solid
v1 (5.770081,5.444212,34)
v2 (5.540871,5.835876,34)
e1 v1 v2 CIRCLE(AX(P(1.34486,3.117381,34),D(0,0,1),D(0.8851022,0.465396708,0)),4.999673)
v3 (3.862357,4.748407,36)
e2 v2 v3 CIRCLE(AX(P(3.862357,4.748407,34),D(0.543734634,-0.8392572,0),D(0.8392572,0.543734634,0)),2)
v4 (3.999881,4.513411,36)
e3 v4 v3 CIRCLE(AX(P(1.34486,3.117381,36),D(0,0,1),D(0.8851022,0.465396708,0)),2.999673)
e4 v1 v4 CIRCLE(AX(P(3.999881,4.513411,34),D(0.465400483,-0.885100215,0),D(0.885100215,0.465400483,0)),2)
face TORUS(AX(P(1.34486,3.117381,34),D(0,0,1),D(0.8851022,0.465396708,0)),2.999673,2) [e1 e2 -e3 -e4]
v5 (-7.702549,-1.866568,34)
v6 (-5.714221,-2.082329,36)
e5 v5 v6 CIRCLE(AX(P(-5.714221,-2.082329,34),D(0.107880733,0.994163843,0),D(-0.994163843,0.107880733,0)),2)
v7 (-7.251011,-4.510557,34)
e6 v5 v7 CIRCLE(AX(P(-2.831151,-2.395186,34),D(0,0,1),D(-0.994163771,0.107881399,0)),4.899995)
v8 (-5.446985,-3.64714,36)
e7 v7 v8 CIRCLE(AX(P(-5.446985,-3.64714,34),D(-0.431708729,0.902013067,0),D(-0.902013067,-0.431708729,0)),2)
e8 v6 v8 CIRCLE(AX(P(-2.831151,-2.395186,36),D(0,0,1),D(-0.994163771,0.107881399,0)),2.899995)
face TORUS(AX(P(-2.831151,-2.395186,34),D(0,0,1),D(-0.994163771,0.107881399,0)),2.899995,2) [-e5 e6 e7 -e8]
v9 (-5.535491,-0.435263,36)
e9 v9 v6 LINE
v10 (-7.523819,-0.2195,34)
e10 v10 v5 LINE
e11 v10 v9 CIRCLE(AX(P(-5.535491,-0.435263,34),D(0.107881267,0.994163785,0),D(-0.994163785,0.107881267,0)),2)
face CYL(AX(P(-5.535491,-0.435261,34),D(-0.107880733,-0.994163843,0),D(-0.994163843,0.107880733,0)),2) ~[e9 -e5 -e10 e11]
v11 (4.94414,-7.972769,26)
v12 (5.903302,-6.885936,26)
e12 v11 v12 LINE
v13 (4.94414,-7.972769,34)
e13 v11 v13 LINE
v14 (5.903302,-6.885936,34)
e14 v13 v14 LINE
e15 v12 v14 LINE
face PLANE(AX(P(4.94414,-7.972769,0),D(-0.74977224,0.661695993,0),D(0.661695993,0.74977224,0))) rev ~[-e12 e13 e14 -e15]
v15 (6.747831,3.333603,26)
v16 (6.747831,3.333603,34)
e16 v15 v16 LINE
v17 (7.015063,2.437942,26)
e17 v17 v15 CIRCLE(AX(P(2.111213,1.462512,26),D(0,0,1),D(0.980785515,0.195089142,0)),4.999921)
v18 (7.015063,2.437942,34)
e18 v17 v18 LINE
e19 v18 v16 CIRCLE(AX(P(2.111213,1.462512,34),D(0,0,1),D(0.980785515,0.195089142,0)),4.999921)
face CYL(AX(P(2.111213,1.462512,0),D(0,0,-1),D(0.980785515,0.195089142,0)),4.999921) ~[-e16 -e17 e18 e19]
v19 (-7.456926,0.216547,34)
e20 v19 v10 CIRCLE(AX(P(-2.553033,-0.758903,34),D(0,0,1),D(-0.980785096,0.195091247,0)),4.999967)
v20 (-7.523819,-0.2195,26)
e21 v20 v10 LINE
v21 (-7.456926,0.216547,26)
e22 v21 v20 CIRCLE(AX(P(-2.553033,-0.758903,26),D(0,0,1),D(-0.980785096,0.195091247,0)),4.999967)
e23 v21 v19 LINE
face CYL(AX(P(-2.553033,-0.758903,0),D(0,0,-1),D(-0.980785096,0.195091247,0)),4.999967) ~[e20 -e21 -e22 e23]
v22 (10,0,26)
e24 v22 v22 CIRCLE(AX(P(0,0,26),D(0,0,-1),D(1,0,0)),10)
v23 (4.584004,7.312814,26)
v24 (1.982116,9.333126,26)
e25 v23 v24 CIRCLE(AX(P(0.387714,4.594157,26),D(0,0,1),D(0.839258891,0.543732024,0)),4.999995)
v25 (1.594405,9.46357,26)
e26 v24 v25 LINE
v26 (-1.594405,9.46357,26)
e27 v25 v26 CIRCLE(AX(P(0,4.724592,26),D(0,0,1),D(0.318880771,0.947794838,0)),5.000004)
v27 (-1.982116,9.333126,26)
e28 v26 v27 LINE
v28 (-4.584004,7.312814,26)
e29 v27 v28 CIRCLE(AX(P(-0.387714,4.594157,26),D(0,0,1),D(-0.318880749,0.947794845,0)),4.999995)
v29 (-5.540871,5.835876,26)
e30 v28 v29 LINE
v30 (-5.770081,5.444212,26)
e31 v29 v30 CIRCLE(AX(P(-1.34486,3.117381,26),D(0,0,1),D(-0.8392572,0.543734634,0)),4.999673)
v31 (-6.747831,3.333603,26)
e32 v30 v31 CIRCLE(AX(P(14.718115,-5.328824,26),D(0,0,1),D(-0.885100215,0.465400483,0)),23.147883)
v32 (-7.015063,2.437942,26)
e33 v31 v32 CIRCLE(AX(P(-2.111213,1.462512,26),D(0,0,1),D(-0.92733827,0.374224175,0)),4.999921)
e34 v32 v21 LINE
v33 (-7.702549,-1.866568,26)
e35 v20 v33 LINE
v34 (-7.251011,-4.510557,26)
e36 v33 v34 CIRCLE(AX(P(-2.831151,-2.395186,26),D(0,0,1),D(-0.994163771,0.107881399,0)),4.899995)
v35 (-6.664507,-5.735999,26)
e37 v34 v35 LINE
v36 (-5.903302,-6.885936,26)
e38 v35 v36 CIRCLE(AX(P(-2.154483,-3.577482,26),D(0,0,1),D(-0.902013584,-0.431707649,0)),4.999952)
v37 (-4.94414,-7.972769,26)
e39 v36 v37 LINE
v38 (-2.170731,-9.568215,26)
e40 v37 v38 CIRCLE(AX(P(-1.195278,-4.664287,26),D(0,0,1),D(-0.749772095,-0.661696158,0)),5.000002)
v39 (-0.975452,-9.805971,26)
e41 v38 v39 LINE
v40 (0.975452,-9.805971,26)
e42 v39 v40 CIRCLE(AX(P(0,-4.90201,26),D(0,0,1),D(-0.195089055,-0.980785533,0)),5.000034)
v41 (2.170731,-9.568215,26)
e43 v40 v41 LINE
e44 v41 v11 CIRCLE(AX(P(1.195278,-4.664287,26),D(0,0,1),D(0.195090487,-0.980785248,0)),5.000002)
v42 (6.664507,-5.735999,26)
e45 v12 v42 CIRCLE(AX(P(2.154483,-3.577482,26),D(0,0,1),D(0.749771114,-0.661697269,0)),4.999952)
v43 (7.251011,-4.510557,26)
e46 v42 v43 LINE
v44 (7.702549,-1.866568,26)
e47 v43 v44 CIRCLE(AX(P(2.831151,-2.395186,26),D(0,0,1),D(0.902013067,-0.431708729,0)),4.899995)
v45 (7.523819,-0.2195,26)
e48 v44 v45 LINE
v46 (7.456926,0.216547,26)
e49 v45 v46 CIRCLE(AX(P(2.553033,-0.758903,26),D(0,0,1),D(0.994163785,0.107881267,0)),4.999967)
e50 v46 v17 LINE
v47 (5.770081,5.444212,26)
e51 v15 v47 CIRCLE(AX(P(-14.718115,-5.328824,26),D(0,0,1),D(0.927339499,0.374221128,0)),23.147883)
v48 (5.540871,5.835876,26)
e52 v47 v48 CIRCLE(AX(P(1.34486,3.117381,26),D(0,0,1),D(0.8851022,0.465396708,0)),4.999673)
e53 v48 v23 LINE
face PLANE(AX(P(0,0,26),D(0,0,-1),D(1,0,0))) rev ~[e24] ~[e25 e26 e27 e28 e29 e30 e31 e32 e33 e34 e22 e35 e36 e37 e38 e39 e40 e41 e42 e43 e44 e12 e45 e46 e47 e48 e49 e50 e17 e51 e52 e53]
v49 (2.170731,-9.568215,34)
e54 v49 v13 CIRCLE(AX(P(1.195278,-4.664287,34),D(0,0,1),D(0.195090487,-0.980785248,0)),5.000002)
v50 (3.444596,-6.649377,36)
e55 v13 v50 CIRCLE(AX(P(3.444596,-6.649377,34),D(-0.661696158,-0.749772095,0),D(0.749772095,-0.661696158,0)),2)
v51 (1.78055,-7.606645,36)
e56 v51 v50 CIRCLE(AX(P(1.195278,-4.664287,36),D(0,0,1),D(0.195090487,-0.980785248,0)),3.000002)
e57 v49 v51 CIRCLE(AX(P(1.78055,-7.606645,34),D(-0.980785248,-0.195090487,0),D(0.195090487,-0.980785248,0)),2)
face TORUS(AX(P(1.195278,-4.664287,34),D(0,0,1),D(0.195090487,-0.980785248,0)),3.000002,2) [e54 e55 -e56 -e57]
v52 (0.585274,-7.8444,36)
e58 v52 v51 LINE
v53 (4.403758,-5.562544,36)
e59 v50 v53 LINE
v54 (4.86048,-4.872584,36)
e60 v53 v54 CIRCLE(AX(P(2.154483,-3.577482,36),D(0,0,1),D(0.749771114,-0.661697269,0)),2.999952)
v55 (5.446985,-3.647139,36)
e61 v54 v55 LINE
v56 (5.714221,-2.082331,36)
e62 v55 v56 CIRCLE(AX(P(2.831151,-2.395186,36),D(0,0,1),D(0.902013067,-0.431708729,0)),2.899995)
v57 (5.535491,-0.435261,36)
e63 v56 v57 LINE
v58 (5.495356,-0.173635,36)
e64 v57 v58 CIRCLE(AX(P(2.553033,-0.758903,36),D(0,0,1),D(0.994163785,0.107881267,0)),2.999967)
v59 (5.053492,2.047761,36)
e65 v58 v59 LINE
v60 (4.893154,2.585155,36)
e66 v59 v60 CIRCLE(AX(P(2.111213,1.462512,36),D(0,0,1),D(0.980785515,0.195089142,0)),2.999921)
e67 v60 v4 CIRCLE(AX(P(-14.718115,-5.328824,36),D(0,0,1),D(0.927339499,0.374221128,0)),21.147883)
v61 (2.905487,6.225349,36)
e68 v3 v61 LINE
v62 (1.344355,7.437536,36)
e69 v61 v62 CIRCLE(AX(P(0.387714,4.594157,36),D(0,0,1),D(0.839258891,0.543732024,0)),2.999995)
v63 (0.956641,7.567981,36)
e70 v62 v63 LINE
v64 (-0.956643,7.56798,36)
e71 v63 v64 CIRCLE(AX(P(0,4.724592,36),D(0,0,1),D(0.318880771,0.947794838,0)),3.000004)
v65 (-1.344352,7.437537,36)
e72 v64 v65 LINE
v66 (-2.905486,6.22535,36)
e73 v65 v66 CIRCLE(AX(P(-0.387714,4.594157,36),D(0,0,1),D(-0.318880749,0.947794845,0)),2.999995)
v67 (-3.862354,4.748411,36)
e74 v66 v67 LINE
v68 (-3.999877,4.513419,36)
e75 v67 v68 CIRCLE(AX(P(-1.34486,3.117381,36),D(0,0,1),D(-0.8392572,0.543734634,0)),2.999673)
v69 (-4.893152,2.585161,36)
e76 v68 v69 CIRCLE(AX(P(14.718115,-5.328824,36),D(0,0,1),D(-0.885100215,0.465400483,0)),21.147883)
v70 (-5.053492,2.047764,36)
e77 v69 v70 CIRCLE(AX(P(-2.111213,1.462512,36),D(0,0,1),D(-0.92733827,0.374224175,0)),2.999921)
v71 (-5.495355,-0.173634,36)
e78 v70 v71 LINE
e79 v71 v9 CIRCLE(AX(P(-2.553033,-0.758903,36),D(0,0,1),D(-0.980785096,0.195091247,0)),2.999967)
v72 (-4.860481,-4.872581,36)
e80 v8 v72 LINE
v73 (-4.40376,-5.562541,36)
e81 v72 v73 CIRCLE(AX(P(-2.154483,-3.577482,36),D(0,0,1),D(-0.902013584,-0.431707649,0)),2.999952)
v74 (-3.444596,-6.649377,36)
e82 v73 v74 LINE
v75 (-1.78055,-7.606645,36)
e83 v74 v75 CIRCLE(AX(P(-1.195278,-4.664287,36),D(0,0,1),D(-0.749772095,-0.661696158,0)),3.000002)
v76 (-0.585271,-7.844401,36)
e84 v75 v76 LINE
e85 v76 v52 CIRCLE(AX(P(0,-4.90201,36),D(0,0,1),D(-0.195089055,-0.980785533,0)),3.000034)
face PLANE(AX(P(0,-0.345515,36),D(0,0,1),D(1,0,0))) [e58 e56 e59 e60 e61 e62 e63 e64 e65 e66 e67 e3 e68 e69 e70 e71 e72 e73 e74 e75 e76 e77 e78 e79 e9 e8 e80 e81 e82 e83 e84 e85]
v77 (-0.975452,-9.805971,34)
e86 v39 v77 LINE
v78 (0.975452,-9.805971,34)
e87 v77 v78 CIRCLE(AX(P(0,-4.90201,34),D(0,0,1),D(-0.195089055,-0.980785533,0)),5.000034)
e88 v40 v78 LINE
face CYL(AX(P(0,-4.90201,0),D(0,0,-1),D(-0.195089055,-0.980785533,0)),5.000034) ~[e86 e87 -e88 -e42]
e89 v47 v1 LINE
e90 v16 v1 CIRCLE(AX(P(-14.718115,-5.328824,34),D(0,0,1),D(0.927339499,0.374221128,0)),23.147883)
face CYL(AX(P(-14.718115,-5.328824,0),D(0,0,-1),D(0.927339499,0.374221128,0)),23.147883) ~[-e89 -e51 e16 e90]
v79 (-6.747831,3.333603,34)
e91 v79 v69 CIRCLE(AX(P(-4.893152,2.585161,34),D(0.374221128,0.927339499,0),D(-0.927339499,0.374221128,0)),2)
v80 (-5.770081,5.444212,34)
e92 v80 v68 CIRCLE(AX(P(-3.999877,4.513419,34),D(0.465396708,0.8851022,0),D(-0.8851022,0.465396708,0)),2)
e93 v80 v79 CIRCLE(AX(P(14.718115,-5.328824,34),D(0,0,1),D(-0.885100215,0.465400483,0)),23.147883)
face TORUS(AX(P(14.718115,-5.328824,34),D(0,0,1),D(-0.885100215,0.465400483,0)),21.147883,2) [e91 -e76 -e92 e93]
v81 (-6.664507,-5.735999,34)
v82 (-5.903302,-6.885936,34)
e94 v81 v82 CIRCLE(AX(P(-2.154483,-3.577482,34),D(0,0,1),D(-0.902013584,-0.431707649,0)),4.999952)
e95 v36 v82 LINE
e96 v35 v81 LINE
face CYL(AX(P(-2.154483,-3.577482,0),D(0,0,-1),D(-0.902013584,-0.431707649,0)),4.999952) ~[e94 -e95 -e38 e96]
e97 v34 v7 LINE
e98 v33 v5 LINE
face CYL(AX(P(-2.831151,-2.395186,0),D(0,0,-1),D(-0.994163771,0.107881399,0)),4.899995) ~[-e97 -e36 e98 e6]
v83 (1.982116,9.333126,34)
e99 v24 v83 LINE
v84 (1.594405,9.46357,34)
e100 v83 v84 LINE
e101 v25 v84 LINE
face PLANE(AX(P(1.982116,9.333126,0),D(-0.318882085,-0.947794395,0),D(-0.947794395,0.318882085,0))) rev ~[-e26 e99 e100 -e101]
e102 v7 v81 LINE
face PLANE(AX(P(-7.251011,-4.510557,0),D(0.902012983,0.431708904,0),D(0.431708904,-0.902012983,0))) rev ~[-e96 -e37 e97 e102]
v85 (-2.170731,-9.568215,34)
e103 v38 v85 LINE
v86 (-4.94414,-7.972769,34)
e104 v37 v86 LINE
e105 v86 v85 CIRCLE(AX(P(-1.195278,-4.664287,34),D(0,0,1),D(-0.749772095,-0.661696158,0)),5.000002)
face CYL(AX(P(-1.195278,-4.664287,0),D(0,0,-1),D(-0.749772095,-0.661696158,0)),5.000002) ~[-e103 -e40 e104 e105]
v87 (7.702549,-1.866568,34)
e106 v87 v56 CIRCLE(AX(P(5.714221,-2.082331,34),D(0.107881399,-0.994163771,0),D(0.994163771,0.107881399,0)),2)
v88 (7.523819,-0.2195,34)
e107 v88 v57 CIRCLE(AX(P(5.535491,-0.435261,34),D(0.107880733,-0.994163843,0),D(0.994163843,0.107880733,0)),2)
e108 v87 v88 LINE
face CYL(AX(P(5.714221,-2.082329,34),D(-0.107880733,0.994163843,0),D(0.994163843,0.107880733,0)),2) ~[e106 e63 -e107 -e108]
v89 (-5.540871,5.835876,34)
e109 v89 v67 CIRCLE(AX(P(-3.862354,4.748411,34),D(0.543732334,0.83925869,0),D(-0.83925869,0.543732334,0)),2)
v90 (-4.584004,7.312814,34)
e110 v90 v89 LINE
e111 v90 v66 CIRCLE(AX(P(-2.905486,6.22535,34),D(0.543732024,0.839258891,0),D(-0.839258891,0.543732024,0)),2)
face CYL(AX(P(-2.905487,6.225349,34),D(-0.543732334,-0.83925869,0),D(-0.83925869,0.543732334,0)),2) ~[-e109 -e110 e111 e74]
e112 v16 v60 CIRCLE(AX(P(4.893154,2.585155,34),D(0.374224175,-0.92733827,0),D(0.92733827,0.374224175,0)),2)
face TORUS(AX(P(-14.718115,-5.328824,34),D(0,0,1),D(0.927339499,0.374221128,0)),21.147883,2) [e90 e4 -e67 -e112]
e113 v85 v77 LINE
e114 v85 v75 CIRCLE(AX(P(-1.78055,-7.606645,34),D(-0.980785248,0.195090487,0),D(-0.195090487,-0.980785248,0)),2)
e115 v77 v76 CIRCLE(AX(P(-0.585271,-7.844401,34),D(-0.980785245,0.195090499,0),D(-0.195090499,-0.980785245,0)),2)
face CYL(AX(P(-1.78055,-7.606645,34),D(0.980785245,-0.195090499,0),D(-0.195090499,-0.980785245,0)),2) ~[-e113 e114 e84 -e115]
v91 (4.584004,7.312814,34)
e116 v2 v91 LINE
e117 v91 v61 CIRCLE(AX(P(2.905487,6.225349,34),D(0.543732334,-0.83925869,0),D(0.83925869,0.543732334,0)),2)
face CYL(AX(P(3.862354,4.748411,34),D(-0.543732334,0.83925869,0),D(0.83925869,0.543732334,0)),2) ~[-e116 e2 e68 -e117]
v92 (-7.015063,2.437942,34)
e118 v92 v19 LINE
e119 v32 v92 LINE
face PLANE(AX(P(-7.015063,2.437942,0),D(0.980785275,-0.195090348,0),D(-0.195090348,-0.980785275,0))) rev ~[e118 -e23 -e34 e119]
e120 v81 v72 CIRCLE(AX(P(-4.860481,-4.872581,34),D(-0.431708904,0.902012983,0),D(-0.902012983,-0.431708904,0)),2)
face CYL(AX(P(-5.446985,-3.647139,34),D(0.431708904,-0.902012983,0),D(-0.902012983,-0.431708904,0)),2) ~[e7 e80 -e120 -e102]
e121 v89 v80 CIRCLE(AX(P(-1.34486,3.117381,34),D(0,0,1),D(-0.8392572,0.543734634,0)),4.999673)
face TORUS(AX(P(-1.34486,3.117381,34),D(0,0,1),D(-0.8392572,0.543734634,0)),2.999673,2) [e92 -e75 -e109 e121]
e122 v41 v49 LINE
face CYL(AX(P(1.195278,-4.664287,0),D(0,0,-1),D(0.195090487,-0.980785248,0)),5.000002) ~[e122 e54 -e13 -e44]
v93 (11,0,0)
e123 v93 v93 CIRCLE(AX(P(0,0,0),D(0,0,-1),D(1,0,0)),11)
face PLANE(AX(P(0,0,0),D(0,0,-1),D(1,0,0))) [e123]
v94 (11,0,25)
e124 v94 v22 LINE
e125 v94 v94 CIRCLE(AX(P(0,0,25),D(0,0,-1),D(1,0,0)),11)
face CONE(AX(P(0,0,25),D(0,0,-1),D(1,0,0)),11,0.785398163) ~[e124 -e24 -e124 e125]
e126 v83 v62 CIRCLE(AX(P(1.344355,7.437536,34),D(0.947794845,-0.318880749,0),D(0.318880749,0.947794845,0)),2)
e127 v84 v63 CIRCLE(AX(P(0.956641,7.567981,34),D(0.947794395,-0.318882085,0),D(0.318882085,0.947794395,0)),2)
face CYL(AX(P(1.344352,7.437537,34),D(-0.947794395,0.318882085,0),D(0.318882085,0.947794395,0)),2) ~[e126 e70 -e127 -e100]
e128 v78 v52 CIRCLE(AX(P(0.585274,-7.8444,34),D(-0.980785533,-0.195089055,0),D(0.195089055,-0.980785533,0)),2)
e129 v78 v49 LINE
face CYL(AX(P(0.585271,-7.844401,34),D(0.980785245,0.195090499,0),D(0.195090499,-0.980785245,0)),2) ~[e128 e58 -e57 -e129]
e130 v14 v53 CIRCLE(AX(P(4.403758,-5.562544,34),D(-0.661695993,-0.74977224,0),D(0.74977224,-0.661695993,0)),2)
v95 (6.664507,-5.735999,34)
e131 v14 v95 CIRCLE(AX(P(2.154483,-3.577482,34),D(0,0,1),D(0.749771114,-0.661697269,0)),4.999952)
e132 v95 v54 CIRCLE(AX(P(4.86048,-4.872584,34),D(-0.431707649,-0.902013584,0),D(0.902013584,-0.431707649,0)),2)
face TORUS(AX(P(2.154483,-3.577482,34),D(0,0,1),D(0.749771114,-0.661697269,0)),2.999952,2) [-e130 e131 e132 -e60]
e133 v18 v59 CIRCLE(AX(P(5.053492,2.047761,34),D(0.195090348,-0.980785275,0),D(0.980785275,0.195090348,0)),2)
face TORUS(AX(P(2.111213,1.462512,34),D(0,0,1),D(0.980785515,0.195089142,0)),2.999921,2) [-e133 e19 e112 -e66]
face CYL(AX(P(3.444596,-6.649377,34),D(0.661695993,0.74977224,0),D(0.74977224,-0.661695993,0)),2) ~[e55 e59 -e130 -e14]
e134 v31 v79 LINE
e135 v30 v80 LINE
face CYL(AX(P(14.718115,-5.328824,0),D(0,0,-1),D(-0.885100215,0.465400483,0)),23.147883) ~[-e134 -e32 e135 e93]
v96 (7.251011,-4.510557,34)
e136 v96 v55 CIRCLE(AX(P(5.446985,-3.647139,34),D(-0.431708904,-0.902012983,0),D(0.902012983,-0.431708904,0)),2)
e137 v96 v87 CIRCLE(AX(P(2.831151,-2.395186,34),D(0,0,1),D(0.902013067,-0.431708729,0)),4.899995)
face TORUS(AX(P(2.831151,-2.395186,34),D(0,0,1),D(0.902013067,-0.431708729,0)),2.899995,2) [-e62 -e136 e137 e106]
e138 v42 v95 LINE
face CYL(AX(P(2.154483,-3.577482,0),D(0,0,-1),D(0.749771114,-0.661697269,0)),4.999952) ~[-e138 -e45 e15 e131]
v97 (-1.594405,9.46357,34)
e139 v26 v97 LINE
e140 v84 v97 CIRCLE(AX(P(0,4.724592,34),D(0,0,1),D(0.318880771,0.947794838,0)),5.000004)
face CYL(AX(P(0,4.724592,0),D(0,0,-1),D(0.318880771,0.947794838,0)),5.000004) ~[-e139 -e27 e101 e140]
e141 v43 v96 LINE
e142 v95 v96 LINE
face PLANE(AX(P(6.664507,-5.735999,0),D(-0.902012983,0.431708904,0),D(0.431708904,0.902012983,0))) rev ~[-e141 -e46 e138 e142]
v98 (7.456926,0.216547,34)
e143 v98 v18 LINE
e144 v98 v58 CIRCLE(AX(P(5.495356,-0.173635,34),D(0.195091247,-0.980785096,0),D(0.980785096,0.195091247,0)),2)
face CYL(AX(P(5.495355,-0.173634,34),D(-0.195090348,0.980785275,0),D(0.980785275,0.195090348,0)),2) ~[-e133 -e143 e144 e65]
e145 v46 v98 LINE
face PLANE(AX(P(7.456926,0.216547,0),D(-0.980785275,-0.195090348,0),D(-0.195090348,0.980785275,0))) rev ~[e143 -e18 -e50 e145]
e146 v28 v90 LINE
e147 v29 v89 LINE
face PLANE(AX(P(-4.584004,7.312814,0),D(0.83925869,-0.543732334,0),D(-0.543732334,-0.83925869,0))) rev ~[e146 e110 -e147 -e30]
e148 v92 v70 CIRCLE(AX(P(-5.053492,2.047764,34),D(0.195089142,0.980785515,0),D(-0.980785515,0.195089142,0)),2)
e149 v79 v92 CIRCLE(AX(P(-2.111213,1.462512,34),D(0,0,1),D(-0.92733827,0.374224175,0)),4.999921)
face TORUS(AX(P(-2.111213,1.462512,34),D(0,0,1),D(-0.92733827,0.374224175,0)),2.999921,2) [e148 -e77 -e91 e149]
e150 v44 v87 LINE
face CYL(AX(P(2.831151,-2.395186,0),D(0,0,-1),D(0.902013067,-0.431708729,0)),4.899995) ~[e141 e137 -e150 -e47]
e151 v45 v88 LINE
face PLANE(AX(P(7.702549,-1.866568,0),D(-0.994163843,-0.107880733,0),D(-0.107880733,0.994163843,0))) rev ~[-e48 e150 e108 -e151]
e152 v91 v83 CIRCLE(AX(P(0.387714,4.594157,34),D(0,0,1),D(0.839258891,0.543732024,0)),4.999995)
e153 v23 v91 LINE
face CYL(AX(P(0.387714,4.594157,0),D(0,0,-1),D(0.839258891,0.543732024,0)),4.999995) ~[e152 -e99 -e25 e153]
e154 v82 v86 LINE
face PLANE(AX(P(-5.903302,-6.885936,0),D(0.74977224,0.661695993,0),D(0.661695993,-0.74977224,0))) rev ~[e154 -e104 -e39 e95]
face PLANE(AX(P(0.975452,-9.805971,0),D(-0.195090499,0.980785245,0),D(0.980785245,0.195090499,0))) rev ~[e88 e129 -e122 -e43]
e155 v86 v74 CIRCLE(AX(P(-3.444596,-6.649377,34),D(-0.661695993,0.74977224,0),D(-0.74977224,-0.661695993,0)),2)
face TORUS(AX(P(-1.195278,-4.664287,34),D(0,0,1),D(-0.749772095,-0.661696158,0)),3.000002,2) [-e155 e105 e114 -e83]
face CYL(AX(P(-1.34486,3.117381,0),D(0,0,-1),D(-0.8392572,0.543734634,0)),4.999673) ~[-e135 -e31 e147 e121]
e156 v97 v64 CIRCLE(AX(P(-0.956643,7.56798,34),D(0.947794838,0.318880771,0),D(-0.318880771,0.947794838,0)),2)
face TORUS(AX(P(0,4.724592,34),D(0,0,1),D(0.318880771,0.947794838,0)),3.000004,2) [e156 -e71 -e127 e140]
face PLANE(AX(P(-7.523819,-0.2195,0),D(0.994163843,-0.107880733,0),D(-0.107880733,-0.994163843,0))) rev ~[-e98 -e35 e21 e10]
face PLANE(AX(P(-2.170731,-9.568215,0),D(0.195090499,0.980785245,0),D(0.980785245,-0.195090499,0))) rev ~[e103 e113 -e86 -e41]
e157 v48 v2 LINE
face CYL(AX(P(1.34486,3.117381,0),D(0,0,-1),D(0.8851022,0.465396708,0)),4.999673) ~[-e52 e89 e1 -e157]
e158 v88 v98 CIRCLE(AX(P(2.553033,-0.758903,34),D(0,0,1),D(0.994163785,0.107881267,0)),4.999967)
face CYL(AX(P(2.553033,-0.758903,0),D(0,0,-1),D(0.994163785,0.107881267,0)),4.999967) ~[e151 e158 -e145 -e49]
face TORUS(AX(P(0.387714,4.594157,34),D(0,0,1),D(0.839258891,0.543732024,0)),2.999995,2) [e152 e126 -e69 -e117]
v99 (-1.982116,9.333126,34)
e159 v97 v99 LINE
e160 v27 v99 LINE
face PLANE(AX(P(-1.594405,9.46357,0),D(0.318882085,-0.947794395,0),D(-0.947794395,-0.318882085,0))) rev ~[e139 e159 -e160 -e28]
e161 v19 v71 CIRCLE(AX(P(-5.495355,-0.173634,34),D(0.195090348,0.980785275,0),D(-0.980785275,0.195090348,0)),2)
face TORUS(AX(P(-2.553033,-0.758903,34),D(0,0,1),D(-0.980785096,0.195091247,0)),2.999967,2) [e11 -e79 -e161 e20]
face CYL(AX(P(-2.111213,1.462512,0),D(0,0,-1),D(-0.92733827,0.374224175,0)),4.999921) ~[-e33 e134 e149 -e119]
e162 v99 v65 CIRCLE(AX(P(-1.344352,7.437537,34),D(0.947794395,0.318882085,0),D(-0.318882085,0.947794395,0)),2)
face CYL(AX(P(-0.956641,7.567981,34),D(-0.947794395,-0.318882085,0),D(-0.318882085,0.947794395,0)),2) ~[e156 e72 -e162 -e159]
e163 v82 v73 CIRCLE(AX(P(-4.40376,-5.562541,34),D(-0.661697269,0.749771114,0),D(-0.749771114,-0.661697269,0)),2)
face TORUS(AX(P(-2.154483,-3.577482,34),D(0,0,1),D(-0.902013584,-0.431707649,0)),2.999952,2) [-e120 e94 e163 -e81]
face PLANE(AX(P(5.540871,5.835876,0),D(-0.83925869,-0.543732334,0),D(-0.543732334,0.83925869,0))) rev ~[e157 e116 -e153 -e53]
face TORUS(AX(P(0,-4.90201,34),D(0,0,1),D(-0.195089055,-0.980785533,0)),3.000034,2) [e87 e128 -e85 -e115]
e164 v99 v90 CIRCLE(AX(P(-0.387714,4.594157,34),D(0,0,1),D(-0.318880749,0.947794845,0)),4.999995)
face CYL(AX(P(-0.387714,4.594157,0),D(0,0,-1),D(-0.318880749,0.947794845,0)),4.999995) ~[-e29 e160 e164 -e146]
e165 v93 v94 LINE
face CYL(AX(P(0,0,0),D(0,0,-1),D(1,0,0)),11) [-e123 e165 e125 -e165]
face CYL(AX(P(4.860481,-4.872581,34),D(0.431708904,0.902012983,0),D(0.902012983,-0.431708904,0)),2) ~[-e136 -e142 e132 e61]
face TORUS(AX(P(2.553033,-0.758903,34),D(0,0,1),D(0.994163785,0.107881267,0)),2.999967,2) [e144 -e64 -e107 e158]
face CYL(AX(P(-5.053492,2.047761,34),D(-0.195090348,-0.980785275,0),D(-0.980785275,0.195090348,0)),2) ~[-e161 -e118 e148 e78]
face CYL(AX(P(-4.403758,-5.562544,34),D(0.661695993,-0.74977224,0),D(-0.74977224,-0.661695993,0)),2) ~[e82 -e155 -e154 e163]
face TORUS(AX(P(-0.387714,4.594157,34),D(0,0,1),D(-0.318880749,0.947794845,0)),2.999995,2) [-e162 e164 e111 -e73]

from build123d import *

# Parameters (mm, degrees)
F2_DEPTH = 36
F3_R     = 2
F4_R     = 11
F5_DEPTH = 26
F6_SIZE  = 1


with BuildPart() as f2:
    # F1 (on Top) → F2 (new body)
    with BuildSketch(Plane.XY):
        with BuildLine():
            Line((1.982116, 9.333126), (1.594405, 9.46357))
            ThreePointArc((1.594405, 9.46357), (0, 9.724596), (-1.594405, 9.46357))
            Line((-1.594405, 9.46357), (-1.982116, 9.333126))
            ThreePointArc((-1.982116, 9.333126), (-3.454217, 8.543398), (-4.584004, 7.312814))
            Line((-4.584004, 7.312814), (-5.540871, 5.835876))
            ThreePointArc((-5.540871, 5.835876), (-5.659922, 5.642646), (-5.770081, 5.444212))
            ThreePointArc((-5.770081, 5.444212), (-6.285484, 4.401197), (-6.747831, 3.333603))
            ThreePointArc((-6.747831, 3.333603), (-6.902422, 2.892031), (-7.015063, 2.437942))
            Line((-7.015063, 2.437942), (-7.456926, 0.216547))
            ThreePointArc((-7.456926, 0.216547), (-7.495184, -0.000739), (-7.523819, -0.2195))
            Line((-7.523819, -0.2195), (-7.702549, -1.866568))
            ThreePointArc((-7.702549, -1.866568), (-7.661217, -3.220061), (-7.251011, -4.510557))
            Line((-7.251011, -4.510557), (-6.664507, -5.735999))
            ThreePointArc((-6.664507, -5.735999), (-6.323741, -6.337337), (-5.903302, -6.885936))
            Line((-5.903302, -6.885936), (-4.94414, -7.972769))
            ThreePointArc((-4.94414, -7.972769), (-3.688499, -8.998323), (-2.170731, -9.568215))
            Line((-2.170731, -9.568215), (-0.975452, -9.805971))
            ThreePointArc((-0.975452, -9.805971), (0, -9.902044), (0.975452, -9.805971))
            Line((0.975452, -9.805971), (2.170731, -9.568215))
            ThreePointArc((2.170731, -9.568215), (3.688499, -8.998323), (4.94414, -7.972769))
            Line((4.94414, -7.972769), (5.903302, -6.885936))
            ThreePointArc((5.903302, -6.885936), (6.323741, -6.337337), (6.664507, -5.735999))
            Line((6.664507, -5.735999), (7.251011, -4.510557))
            ThreePointArc((7.251011, -4.510557), (7.661217, -3.220061), (7.702549, -1.866568))
            Line((7.702549, -1.866568), (7.523819, -0.2195))
            ThreePointArc((7.523819, -0.2195), (7.495184, -0.000739), (7.456926, 0.216547))
            Line((7.456926, 0.216547), (7.015063, 2.437942))
            ThreePointArc((7.015063, 2.437942), (6.902422, 2.892031), (6.747831, 3.333603))
            ThreePointArc((6.747831, 3.333603), (6.285484, 4.401197), (5.770081, 5.444212))
            ThreePointArc((5.770081, 5.444212), (5.659922, 5.642646), (5.540871, 5.835876))
            Line((5.540871, 5.835876), (4.584004, 7.312814))
            ThreePointArc((4.584004, 7.312814), (3.454217, 8.543398), (1.982116, 9.333126))
        make_face()
    extrude(amount=F2_DEPTH)

    # F3
    f3_edges = [f2.edges().sort_by_distance(p)[0] for p in [
        (3.688499, -8.998323, 36),
    ]]
    fillet(f3_edges, radius=F3_R)

    # F4 (on face) → F5 (join)
    with BuildSketch(Plane(origin=(0, 0, 0), x_dir=(1, 0, 0), z_dir=(0, 0, -1))):
        Circle(F4_R)
        with BuildLine():
            ThreePointArc((-7.702549, 1.866568), (-7.661217, 3.220061), (-7.251011, 4.510557))
            Line((-7.251011, 4.510557), (-6.664507, 5.735999))
            ThreePointArc((-6.664507, 5.735999), (-6.323741, 6.337337), (-5.903302, 6.885936))
            Line((-5.903302, 6.885936), (-4.94414, 7.972769))
            ThreePointArc((-4.94414, 7.972769), (-3.688499, 8.998323), (-2.170731, 9.568215))
            Line((-2.170731, 9.568215), (-0.975452, 9.805971))
            ThreePointArc((-0.975452, 9.805971), (0, 9.902044), (0.975452, 9.805971))
            Line((0.975452, 9.805971), (2.170731, 9.568215))
            ThreePointArc((2.170731, 9.568215), (3.688499, 8.998323), (4.94414, 7.972769))
            Line((4.94414, 7.972769), (5.903302, 6.885936))
            ThreePointArc((5.903302, 6.885936), (6.323741, 6.337337), (6.664507, 5.735999))
            Line((6.664507, 5.735999), (7.251011, 4.510557))
            ThreePointArc((7.251011, 4.510557), (7.661217, 3.220061), (7.702549, 1.866568))
            Line((7.702549, 1.866568), (7.523819, 0.2195))
            ThreePointArc((7.523819, 0.2195), (7.495184, 0.000739), (7.456926, -0.216547))
            Line((7.456926, -0.216547), (7.015063, -2.437942))
            ThreePointArc((7.015063, -2.437942), (6.902422, -2.892031), (6.747831, -3.333603))
            ThreePointArc((6.747831, -3.333603), (6.285484, -4.401197), (5.770081, -5.444212))
            ThreePointArc((5.770081, -5.444212), (5.659922, -5.642646), (5.540871, -5.835876))
            Line((5.540871, -5.835876), (4.584004, -7.312814))
            ThreePointArc((4.584004, -7.312814), (3.454217, -8.543398), (1.982116, -9.333126))
            Line((1.982116, -9.333126), (1.594405, -9.46357))
            ThreePointArc((1.594405, -9.46357), (0, -9.724596), (-1.594405, -9.46357))
            Line((-1.594405, -9.46357), (-1.982116, -9.333126))
            ThreePointArc((-1.982116, -9.333126), (-3.454217, -8.543398), (-4.584004, -7.312814))
            Line((-4.584004, -7.312814), (-5.540871, -5.835876))
            ThreePointArc((-5.540871, -5.835876), (-5.659922, -5.642646), (-5.770081, -5.444212))
            ThreePointArc((-5.770081, -5.444212), (-6.285484, -4.401197), (-6.747831, -3.333603))
            ThreePointArc((-6.747831, -3.333603), (-6.902422, -2.892031), (-7.015063, -2.437942))
            Line((-7.015063, -2.437942), (-7.456926, -0.216547))
            ThreePointArc((-7.456926, -0.216547), (-7.495184, 0.000739), (-7.523819, 0.2195))
            Line((-7.523819, 0.2195), (-7.702549, 1.866568))
        make_face(mode=Mode.SUBTRACT)
    extrude(amount=-F5_DEPTH)

    # F6
    f6_edges = [f2.edges().sort_by_distance(p)[0] for p in [
        (-11, 0, 26),
    ]]
    chamfer(f6_edges, length=F6_SIZE)


solid = f2.part
